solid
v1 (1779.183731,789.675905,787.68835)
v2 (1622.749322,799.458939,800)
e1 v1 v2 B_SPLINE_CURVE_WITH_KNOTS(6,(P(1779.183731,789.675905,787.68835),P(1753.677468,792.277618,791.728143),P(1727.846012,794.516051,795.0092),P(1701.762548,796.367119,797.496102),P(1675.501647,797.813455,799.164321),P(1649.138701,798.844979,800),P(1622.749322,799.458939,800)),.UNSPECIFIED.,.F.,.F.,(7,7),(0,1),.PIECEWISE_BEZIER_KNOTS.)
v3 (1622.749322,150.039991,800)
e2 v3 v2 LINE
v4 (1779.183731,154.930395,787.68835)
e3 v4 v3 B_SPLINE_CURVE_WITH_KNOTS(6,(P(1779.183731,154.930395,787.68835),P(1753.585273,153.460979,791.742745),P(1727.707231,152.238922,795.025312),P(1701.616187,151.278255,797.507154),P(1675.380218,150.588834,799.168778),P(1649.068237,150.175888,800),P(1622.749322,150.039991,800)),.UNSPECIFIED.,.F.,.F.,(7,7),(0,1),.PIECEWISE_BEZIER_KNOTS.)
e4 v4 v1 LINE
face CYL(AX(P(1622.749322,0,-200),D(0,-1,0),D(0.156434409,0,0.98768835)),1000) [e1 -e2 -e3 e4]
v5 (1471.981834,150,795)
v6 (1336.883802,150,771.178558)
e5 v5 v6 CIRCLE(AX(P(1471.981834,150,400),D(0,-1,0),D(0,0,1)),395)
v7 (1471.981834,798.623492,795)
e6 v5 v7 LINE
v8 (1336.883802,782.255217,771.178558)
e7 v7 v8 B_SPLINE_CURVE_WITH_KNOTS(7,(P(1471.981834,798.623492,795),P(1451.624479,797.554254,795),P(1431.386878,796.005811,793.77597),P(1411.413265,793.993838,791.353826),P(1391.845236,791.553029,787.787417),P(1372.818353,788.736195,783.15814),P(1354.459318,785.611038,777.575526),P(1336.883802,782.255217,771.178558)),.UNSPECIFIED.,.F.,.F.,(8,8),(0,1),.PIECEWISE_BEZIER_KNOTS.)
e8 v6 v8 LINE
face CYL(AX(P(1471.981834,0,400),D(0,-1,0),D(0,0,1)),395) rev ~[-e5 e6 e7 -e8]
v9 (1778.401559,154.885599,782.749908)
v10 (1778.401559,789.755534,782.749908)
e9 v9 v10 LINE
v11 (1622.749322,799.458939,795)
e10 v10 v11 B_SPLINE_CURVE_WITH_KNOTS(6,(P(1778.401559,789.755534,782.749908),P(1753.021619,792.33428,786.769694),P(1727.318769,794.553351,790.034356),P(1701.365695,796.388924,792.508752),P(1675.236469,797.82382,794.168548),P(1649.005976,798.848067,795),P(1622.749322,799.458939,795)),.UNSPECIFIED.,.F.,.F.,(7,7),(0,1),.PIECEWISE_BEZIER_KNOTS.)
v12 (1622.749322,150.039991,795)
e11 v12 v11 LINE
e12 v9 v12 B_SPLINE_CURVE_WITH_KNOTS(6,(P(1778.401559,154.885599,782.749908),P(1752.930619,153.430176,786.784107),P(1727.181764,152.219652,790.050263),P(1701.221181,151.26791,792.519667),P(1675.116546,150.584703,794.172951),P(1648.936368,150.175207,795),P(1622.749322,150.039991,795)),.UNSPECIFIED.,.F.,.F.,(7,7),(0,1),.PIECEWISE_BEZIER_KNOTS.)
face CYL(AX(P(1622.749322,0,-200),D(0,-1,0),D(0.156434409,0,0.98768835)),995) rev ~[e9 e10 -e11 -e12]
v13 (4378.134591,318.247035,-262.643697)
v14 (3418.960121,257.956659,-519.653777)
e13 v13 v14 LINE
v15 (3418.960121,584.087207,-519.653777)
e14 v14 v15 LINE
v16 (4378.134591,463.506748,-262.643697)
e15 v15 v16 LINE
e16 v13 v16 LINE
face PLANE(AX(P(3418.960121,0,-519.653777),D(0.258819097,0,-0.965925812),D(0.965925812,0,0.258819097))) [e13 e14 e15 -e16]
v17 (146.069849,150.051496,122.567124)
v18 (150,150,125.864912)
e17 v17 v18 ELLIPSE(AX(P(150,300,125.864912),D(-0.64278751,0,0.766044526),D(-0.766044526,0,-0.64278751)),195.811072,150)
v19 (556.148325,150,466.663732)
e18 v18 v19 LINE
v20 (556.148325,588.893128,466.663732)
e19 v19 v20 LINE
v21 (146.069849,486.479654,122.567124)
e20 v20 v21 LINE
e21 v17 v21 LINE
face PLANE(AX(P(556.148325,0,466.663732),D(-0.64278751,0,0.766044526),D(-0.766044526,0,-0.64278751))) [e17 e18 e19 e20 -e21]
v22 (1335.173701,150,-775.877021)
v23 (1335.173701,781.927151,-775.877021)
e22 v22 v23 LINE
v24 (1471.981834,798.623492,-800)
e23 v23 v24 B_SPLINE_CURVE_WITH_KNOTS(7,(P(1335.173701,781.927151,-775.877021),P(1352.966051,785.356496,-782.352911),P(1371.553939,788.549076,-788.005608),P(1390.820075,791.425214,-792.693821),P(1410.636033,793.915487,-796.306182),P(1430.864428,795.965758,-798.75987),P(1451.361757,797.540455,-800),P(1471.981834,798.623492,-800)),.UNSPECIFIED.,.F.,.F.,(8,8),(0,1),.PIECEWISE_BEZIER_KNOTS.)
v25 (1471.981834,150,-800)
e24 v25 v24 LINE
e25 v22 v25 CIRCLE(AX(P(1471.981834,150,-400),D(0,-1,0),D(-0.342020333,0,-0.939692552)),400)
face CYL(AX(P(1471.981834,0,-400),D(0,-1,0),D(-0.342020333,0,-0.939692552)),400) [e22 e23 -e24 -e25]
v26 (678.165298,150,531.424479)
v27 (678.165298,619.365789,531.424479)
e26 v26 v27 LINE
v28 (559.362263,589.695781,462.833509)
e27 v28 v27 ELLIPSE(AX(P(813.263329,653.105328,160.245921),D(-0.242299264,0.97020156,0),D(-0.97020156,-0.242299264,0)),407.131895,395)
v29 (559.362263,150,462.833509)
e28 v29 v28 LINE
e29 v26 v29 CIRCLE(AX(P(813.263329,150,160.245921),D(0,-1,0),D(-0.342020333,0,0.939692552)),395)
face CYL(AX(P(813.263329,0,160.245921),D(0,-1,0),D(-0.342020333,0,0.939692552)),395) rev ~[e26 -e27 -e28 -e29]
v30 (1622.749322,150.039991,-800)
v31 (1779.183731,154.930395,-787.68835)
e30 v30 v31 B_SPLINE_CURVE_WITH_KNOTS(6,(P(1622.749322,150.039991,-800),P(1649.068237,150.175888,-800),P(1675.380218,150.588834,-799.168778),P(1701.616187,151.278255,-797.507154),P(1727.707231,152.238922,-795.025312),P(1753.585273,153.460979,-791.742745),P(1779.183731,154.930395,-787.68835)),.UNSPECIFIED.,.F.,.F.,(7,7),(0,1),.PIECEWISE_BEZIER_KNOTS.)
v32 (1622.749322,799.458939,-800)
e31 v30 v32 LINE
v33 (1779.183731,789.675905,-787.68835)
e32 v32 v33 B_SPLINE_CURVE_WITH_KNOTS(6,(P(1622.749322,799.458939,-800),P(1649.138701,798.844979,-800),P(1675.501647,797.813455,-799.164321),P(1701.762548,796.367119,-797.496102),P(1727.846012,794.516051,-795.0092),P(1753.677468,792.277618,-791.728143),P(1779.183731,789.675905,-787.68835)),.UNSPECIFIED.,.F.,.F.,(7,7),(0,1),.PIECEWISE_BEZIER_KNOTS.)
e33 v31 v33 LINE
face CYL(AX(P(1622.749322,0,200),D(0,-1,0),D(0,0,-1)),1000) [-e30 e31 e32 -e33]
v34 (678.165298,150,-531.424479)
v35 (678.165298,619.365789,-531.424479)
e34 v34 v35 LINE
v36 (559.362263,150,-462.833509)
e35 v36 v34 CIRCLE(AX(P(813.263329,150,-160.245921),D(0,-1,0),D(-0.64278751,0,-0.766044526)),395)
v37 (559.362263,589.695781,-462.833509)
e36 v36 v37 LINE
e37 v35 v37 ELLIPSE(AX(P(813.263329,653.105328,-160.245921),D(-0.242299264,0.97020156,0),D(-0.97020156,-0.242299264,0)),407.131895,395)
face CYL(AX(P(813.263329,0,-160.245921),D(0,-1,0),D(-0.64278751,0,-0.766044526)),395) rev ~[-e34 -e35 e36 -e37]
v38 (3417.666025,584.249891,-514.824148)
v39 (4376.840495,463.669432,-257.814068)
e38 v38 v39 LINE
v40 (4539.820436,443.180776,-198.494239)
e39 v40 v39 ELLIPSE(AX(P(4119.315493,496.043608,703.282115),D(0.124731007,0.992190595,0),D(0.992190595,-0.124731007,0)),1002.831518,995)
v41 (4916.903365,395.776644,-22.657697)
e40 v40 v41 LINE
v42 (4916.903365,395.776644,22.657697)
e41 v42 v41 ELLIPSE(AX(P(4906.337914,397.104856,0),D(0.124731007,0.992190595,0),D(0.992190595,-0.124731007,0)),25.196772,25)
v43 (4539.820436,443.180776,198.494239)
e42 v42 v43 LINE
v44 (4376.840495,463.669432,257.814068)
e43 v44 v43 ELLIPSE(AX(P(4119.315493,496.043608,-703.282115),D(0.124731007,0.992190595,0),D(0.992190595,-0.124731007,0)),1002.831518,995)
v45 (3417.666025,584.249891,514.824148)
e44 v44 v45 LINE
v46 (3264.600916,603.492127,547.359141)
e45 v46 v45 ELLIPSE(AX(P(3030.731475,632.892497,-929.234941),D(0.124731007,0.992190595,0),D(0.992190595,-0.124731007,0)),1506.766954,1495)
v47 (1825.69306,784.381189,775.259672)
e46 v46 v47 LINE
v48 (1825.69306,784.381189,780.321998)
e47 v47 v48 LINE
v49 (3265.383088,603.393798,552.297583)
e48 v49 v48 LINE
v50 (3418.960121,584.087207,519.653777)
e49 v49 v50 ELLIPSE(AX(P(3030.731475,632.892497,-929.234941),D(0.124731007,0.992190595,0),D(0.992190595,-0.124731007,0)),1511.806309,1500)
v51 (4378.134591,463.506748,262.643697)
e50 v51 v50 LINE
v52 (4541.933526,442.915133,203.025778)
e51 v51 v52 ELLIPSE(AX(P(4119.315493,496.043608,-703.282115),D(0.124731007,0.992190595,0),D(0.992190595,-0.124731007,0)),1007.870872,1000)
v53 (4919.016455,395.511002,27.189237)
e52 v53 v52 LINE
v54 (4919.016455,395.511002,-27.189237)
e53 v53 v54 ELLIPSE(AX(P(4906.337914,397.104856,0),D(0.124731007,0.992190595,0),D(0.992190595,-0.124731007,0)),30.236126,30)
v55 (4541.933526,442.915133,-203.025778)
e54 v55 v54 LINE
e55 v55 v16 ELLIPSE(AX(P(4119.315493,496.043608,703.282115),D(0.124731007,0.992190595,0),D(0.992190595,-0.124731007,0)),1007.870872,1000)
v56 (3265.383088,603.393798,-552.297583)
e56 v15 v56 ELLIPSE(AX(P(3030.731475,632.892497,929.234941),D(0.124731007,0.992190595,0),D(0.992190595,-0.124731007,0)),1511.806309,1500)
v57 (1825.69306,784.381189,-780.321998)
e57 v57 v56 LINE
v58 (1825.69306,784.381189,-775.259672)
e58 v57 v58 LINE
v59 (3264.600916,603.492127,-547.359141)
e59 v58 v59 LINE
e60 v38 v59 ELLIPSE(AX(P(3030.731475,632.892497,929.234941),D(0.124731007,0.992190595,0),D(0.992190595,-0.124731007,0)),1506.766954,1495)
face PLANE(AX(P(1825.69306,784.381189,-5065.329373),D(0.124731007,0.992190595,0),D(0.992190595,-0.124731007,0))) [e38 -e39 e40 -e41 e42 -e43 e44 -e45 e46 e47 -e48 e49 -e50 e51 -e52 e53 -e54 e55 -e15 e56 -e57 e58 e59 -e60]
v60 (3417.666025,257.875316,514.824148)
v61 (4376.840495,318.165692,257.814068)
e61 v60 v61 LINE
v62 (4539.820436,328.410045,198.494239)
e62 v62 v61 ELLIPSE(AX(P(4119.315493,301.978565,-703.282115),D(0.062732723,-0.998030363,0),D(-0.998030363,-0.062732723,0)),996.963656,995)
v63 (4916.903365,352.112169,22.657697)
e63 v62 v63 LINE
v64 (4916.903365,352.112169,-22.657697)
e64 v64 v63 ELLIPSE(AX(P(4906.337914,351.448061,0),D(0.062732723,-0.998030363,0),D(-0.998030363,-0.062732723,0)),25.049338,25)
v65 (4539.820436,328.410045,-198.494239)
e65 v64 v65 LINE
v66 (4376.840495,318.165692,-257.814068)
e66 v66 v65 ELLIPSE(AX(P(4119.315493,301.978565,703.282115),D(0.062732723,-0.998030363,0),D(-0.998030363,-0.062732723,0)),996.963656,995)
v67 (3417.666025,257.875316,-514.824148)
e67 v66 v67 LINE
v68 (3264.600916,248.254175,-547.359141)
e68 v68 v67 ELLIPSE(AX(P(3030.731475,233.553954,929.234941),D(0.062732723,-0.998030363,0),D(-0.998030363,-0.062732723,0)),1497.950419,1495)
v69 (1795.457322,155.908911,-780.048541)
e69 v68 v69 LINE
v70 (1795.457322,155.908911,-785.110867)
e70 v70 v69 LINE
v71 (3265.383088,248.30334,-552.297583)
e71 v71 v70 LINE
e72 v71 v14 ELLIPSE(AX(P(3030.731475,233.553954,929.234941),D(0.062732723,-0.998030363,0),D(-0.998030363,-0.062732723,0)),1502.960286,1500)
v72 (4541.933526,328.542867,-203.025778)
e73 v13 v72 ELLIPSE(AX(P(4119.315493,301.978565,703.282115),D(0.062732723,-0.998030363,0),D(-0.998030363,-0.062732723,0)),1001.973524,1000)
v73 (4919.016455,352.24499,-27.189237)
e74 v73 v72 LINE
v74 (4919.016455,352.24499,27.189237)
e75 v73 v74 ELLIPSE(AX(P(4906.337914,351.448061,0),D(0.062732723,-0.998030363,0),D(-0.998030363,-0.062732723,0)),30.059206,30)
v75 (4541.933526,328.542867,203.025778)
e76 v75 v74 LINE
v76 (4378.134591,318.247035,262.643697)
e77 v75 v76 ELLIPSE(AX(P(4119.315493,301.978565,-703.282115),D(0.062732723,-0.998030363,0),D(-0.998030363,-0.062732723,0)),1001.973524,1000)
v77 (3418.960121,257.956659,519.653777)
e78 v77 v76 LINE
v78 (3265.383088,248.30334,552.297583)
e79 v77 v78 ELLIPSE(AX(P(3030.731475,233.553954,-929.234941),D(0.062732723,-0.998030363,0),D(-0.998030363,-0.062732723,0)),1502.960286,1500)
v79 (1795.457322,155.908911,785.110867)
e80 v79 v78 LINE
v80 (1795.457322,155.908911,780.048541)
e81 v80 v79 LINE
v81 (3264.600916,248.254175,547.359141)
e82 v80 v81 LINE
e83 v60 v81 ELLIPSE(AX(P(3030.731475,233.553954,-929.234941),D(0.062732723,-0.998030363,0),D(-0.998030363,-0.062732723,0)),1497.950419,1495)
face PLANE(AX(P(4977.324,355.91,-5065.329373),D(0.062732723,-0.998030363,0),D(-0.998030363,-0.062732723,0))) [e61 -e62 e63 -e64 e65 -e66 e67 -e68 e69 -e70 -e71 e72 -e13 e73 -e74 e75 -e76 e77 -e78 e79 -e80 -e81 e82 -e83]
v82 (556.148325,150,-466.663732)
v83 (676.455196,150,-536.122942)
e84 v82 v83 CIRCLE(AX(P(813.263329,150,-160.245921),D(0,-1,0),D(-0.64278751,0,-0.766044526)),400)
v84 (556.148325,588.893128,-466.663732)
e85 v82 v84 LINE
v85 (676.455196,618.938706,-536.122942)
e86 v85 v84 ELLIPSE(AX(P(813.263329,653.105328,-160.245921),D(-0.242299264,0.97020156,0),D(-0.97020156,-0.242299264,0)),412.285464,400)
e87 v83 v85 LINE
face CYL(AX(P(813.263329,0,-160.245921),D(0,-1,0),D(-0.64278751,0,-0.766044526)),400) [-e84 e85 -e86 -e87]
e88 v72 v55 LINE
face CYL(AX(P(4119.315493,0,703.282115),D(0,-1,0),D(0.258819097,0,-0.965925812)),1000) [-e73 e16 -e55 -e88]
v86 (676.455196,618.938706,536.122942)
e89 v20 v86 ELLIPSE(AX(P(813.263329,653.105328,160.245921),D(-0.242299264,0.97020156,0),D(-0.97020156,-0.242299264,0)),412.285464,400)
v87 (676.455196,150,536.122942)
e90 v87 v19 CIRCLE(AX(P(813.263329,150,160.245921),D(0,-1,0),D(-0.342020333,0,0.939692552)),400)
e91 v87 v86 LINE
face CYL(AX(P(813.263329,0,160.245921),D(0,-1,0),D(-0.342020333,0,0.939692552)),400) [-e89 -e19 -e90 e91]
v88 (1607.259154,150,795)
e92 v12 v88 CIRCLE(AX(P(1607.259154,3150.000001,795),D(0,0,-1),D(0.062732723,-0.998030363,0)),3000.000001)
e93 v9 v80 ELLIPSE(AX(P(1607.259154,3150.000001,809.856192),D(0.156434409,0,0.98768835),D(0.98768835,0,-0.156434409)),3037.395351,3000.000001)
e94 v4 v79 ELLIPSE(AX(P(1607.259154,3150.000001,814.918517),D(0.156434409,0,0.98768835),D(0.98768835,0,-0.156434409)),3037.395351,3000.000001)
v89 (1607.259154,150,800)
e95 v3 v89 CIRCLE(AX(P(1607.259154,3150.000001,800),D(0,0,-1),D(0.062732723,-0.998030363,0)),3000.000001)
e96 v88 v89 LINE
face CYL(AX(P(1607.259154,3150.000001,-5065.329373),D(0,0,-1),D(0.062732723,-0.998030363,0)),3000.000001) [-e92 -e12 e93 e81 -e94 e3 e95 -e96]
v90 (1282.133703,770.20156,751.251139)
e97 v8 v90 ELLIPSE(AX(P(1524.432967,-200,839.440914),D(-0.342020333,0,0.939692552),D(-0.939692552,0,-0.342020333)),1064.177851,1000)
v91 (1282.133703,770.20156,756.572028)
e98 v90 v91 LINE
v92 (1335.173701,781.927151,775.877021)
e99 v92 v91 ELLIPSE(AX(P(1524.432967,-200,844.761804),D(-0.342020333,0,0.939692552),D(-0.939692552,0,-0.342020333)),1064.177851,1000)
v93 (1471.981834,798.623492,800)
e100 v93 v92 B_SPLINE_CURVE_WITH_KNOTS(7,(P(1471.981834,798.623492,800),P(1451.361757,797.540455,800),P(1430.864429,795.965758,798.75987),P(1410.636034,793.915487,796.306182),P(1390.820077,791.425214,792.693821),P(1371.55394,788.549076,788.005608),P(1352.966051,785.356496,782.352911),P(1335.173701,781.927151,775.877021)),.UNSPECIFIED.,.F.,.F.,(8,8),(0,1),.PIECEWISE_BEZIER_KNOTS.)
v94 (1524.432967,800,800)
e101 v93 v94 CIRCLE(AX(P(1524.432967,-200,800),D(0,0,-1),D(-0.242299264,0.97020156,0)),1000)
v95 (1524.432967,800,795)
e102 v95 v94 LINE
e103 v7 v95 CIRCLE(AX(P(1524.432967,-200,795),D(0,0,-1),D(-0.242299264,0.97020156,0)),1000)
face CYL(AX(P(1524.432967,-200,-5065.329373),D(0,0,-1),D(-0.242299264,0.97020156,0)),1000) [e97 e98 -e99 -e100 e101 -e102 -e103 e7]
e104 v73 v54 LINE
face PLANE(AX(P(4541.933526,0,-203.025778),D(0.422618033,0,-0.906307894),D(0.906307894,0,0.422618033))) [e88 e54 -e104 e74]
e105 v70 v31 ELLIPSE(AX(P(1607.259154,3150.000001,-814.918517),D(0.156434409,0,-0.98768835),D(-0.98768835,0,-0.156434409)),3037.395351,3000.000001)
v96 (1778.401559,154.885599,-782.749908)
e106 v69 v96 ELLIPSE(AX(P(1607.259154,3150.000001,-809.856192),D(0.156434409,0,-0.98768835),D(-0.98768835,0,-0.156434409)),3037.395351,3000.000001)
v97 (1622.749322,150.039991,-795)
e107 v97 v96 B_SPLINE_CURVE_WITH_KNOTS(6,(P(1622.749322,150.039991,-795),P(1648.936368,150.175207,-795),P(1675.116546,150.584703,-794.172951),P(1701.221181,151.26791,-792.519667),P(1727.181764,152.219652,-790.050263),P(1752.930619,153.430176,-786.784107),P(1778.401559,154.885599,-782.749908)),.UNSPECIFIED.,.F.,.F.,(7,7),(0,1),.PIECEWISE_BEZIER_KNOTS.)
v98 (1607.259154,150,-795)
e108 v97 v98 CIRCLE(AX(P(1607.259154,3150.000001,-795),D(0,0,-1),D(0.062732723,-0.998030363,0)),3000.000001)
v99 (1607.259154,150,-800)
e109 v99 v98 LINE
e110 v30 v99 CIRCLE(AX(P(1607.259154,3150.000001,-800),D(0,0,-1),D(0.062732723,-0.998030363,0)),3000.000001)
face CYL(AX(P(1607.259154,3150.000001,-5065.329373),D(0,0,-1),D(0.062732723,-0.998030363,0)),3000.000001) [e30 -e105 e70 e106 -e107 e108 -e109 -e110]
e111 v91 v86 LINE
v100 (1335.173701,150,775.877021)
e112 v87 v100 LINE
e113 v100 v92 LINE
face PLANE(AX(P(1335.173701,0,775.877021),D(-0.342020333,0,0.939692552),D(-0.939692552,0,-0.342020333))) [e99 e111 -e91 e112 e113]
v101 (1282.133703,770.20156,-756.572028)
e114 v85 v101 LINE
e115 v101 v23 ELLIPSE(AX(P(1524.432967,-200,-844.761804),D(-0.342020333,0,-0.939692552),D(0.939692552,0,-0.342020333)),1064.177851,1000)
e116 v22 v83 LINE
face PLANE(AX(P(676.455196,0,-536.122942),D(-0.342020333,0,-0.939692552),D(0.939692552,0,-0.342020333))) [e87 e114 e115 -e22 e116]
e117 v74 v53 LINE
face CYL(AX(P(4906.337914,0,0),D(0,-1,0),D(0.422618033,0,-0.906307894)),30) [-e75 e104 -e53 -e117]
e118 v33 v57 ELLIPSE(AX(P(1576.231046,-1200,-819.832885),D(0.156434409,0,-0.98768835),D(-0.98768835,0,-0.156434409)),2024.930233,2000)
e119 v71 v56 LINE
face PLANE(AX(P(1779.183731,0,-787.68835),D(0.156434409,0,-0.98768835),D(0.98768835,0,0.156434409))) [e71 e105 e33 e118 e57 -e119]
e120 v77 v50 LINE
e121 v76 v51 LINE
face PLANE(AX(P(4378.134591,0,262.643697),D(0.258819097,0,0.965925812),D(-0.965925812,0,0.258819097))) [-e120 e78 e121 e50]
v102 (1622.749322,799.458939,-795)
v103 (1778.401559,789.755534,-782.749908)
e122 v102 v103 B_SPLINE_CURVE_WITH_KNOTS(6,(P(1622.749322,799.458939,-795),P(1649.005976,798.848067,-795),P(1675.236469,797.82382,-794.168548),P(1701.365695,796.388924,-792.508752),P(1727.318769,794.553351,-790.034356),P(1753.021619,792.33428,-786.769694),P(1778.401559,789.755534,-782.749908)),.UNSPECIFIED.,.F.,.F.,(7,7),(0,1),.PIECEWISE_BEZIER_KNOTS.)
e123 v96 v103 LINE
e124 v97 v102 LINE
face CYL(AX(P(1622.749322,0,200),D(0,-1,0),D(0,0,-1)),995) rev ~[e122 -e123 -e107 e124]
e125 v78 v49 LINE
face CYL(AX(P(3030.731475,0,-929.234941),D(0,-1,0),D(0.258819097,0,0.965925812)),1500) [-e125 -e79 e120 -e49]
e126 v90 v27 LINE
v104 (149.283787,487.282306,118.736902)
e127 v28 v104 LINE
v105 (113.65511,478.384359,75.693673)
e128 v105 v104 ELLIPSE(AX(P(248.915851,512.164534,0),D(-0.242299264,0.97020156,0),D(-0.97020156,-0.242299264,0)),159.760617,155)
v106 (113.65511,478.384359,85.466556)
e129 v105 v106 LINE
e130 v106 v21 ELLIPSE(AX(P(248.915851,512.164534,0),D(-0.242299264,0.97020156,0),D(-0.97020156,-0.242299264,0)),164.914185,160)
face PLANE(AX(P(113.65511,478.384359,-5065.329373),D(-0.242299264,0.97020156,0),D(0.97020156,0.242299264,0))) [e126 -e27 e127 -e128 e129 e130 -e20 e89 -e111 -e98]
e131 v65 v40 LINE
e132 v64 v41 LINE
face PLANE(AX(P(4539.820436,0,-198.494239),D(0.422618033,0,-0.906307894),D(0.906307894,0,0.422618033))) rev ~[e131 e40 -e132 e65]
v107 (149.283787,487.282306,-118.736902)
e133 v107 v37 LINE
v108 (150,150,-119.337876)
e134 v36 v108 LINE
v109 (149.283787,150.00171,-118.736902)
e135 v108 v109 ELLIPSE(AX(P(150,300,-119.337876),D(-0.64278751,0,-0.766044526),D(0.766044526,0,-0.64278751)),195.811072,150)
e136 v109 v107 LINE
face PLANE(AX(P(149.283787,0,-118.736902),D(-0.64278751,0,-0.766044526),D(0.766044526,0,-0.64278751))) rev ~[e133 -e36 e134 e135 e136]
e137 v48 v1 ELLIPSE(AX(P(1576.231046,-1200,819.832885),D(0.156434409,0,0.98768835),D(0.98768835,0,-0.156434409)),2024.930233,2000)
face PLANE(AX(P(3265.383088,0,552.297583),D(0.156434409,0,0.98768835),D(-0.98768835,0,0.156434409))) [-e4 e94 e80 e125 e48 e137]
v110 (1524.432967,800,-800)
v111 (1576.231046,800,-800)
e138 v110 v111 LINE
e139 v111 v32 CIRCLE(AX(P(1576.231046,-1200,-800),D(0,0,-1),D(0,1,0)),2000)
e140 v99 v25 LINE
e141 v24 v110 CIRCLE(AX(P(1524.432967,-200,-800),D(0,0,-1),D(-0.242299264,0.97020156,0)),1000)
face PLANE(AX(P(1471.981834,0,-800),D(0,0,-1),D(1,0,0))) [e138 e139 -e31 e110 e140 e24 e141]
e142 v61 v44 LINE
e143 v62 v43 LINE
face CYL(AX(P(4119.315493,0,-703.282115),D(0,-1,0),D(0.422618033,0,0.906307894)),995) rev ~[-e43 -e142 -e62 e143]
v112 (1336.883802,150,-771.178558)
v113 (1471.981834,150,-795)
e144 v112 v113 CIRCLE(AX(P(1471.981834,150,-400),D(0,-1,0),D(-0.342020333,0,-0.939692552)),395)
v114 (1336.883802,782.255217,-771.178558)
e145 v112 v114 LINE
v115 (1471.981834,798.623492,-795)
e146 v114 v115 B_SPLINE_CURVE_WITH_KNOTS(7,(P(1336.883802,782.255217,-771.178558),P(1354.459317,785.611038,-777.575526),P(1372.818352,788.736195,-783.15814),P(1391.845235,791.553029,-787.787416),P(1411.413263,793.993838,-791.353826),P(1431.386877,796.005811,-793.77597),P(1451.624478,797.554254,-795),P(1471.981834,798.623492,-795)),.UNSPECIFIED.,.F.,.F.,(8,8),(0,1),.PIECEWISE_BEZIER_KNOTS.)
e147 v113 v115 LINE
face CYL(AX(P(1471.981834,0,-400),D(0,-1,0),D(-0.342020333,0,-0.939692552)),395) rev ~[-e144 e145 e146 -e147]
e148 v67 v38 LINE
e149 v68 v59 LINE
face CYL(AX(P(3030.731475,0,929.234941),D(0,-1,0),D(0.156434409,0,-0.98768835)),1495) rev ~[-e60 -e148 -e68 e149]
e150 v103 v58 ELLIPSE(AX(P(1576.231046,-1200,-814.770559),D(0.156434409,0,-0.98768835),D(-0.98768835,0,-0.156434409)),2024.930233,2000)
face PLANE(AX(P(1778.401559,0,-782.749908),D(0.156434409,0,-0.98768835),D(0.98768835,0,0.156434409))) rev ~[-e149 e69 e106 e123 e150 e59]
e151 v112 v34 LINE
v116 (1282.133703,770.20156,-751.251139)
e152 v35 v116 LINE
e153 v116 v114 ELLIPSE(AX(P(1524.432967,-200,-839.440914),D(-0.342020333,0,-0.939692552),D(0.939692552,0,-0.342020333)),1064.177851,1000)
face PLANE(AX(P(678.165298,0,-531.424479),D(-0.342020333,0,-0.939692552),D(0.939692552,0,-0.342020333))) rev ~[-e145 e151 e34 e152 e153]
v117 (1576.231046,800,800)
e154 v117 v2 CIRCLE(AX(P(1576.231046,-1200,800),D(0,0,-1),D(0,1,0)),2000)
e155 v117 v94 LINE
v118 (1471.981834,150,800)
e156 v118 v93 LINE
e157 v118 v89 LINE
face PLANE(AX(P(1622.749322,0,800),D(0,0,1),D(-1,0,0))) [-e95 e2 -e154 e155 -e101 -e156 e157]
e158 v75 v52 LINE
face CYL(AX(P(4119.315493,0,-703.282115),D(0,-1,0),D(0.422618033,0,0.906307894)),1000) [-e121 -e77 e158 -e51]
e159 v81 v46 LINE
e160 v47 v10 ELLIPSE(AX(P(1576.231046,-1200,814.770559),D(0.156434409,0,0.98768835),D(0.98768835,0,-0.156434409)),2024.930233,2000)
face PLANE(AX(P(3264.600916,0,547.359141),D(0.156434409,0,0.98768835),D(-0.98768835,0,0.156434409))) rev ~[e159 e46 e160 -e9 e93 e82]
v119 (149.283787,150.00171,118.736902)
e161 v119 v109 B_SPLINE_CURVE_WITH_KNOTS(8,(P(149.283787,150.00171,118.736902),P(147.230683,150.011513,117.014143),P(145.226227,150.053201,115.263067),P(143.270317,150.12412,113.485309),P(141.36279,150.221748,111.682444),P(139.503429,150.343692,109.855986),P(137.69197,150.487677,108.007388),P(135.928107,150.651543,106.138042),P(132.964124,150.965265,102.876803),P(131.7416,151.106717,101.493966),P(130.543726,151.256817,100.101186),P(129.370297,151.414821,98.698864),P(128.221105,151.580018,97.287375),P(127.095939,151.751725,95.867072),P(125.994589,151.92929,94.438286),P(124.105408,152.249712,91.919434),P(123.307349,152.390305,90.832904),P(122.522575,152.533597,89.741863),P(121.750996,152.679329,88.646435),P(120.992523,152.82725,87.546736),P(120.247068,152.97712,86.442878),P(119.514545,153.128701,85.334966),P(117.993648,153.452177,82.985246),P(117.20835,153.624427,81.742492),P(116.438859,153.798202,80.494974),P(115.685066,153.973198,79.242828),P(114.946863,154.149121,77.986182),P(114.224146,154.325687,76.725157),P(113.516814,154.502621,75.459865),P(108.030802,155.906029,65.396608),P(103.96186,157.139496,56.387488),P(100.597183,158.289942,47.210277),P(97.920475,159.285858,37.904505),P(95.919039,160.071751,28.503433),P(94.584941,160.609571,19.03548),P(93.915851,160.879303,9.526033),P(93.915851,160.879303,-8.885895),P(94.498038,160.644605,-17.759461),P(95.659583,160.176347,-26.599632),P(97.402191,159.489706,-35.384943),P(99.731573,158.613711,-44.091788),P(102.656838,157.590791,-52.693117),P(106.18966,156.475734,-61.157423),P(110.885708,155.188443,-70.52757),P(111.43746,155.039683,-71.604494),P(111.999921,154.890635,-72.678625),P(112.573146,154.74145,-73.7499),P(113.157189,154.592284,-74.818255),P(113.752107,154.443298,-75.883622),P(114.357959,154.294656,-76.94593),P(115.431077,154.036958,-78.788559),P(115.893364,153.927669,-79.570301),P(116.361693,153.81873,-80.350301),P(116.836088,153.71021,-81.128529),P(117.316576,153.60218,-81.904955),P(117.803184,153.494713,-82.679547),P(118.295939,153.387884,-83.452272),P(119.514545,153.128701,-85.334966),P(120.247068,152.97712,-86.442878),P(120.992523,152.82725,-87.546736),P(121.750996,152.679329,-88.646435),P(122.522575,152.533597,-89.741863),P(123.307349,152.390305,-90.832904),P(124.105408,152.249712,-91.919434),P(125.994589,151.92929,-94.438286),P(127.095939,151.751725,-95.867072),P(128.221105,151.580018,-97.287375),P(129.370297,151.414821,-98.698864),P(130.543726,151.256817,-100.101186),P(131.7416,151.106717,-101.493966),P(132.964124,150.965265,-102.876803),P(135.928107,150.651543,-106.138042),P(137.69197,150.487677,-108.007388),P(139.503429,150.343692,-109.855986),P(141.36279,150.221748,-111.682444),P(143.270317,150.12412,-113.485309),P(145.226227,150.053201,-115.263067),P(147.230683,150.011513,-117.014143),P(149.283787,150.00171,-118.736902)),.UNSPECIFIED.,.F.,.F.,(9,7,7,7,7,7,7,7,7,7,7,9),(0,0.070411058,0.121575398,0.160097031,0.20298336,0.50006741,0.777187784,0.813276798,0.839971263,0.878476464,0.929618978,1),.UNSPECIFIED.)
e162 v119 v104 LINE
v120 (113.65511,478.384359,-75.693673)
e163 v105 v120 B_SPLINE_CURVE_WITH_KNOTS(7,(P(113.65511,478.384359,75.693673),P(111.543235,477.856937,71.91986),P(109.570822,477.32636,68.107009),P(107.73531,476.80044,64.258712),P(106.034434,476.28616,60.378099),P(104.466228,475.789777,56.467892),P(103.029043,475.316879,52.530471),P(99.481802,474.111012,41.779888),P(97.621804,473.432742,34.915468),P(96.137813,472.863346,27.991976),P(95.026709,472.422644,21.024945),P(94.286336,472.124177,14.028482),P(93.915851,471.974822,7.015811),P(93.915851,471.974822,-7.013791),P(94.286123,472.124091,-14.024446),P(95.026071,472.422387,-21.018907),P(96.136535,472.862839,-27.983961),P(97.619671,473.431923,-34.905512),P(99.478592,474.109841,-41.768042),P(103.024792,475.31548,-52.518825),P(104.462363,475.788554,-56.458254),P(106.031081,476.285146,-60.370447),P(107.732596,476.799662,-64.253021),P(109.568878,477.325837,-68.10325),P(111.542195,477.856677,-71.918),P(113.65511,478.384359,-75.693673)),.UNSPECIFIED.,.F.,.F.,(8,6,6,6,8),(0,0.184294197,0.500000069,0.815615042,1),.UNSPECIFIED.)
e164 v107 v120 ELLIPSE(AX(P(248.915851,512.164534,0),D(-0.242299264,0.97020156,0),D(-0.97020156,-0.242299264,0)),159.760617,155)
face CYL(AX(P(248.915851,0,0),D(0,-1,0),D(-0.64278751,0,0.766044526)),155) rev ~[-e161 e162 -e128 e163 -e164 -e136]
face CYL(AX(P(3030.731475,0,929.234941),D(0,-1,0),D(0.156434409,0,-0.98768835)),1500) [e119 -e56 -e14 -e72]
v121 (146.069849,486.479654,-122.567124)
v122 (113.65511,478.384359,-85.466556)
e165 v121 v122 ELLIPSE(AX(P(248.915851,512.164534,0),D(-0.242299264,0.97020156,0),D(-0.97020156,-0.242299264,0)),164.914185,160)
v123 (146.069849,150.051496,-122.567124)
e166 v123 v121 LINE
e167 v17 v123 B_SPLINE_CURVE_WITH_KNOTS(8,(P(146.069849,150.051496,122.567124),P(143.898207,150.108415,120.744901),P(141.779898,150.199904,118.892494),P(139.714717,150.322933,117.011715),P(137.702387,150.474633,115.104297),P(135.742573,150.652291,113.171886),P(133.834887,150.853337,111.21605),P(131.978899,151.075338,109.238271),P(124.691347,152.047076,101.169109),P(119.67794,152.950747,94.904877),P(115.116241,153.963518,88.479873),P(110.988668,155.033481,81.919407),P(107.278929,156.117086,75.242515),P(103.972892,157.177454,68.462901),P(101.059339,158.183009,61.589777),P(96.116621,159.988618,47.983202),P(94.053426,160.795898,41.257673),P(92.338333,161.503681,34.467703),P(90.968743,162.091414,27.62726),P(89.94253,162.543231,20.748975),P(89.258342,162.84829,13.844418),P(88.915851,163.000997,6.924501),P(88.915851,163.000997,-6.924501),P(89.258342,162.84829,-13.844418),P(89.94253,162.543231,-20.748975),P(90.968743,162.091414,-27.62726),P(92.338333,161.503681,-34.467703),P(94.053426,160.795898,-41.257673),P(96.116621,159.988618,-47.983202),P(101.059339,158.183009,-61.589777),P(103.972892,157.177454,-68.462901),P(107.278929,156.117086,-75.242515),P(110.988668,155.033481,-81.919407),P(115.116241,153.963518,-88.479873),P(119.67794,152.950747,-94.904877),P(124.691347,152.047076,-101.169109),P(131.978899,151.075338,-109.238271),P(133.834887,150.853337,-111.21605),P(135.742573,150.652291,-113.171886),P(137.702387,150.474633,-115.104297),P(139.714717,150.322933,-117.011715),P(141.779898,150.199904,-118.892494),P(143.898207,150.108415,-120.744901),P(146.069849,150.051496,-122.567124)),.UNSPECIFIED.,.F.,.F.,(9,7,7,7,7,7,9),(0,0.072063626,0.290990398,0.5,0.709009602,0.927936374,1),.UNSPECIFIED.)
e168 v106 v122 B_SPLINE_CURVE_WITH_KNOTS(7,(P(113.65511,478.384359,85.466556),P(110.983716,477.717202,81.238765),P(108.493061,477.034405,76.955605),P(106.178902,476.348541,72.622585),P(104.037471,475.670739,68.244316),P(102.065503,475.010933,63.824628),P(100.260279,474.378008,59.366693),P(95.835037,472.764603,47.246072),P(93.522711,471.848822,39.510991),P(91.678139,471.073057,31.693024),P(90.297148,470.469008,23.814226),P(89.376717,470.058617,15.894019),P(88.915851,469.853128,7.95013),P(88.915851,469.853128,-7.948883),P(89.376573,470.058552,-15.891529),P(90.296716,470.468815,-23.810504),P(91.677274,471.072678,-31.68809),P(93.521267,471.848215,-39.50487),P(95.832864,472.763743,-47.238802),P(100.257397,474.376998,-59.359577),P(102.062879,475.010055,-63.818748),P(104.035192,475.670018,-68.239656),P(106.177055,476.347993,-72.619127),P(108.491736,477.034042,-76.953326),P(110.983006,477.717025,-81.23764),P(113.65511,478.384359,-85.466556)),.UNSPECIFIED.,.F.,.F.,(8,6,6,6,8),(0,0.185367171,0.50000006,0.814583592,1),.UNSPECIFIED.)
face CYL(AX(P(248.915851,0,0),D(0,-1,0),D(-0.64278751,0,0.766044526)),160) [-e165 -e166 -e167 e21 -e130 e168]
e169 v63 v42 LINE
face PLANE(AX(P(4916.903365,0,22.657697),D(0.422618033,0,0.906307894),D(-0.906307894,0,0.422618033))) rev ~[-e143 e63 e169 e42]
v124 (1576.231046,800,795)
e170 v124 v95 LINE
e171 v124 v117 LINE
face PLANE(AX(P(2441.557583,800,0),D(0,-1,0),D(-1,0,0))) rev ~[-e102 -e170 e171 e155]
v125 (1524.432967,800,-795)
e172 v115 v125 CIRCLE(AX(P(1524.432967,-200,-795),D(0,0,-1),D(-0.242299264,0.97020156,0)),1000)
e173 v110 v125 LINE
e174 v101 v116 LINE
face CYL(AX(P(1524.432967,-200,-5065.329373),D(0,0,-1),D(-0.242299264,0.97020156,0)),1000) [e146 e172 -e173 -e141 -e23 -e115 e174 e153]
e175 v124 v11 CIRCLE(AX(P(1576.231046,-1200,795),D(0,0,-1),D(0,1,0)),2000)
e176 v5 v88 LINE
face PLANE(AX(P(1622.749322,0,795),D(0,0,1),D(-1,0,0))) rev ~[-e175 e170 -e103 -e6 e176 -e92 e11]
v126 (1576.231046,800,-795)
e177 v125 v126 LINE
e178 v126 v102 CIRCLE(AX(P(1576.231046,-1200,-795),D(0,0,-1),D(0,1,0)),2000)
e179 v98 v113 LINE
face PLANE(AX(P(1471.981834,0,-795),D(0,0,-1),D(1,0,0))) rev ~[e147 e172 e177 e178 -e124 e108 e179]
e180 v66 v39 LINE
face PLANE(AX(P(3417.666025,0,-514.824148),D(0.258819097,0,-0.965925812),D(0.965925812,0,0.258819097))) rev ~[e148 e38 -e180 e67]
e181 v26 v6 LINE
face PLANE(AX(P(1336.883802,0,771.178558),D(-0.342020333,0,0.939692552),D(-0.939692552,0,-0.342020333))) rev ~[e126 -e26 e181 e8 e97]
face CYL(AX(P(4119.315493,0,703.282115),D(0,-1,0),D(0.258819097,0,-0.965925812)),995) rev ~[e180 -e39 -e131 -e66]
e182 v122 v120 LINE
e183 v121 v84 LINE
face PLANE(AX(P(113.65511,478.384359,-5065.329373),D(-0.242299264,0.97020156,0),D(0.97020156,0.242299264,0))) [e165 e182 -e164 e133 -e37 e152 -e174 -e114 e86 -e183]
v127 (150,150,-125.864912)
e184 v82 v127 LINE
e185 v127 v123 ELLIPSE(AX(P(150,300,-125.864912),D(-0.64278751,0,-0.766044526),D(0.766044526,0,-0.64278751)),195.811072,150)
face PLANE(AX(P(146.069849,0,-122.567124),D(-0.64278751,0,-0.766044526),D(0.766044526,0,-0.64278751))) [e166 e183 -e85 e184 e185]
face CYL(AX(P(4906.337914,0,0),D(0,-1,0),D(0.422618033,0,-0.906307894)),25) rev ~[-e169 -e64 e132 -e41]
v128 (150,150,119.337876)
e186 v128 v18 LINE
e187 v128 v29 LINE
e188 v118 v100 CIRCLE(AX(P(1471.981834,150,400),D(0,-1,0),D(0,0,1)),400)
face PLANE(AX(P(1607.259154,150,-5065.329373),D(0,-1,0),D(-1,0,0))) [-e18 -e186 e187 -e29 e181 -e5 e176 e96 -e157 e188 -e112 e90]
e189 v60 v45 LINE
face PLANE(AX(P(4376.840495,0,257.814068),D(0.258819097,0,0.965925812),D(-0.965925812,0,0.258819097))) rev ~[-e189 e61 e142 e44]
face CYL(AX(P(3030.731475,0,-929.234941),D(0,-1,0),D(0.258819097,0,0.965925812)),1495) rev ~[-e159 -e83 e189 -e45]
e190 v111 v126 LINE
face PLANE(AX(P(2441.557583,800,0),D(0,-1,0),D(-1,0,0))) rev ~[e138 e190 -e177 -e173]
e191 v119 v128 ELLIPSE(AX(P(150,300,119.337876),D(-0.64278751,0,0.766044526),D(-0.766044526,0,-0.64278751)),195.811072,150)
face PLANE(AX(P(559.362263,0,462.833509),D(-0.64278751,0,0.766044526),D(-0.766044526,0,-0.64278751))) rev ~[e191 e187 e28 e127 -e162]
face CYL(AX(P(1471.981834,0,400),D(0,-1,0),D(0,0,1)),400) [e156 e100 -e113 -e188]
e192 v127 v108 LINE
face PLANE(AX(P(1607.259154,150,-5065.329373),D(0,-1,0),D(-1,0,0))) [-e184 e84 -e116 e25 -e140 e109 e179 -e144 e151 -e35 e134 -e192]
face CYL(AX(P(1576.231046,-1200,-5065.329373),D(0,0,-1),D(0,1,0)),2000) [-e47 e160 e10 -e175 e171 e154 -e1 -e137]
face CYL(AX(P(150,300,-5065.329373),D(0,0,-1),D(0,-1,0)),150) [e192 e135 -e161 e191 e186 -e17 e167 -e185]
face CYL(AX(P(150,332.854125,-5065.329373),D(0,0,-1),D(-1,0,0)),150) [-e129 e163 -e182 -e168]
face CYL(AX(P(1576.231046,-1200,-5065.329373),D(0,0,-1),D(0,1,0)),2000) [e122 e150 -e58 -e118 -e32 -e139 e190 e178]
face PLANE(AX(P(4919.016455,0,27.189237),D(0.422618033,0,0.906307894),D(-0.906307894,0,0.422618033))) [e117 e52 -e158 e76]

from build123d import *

# Parameters (mm, degrees)
TOPVIEW_EXTRUDE_DEPTH      = 800
SHELL1_T                   = -5
SIDEPROFILE_CUT_DEPTH      = 5065.329373382
SIDEPROFILE_CUT_DEPTH_BACK = 5065.329373382
SKETCH2_OUTSIDE_W          = 5882.814
SKETCH2_OUTSIDE_H          = 1835.392


with BuildPart() as part:
    # Sketch1 → TopView_Extrude (new body)
    with BuildSketch(Plane(origin=(0, 0, 0), x_dir=(1, 0, 0), z_dir=(0, 1, 0))):
        with BuildLine():
            Line((146.069849076, 122.567124227), (556.148324977, 466.663731547))
            ThreePointArc((556.148324977, 466.663731547), (613.263316637, 506.656075273), (676.455195963, 536.122941687))
            Line((676.455195963, 536.122941687), (1335.173700718, 775.877020708))
            ThreePointArc((1335.173700718, 775.877020708), (1402.522523085, 793.923094197), (1471.981833896, 800))
            Line((1471.981833896, 800), (1622.74932188, 800))
            ThreePointArc((1622.74932188, 800), (1701.208389168, 796.917335971), (1779.183730567, 787.688349521))
            Line((1779.183730567, 787.688349521), (3265.383087903, 552.297583021))
            ThreePointArc((3265.383087903, 552.297583021), (3342.599008928, 537.986460302), (3418.960120906, 519.653777172))
            Line((3418.960120906, 519.653777172), (4378.134590748, 262.643696963))
            ThreePointArc((4378.134590748, 262.643696963), (4461.335543574, 236.410539363), (4541.933526436, 203.025778355))
            Line((4541.933526436, 203.025778355), (4919.016455083, 27.18923681))
            ThreePointArc((4919.016455083, 27.18923681), (4936.337914092, 0), (4919.016455083, -27.18923681))
            Line((4919.016455083, -27.18923681), (4541.933526436, -203.025778355))
            ThreePointArc((4541.933526436, -203.025778355), (4461.335543574, -236.410539363), (4378.134590748, -262.643696963))
            Line((4378.134590748, -262.643696963), (3418.960120906, -519.653777172))
            ThreePointArc((3418.960120906, -519.653777172), (3342.599008928, -537.986460302), (3265.383087903, -552.297583021))
            Line((3265.383087903, -552.297583021), (1779.183730567, -787.688349521))
            ThreePointArc((1779.183730567, -787.688349521), (1701.208389168, -796.917335971), (1622.74932188, -800))
            Line((1622.74932188, -800), (1471.981833896, -800))
            ThreePointArc((1471.981833896, -800), (1402.522523085, -793.923094197), (1335.173700718, -775.877020708))
            Line((1335.173700718, -775.877020708), (676.455195963, -536.122941687))
            ThreePointArc((676.455195963, -536.122941687), (613.263316637, -506.656075273), (556.148324977, -466.663731547))
            Line((556.148324977, -466.663731547), (146.069849076, -122.567124227))
            ThreePointArc((146.069849076, -122.567124227), (88.915850742, 0), (146.069849076, 122.567124227))
        make_face()
    extrude(amount=TOPVIEW_EXTRUDE_DEPTH)

    # Shell1
    shell1_openings = [part.faces().sort_by_distance(p)[0] for p in [
        (2250.068887565, 800, 0),
        (2250.068887565, 0, 0),
    ]]
    offset(amount=SHELL1_T, openings=shell1_openings, kind=Kind.INTERSECTION)

    # Sketch2 outside → SideProfile_Cut (cut, two sides: drawn at the far end of the back side and taken through both)
    with BuildSketch(Plane.XY.offset(-SIDEPROFILE_CUT_DEPTH_BACK)):
        with Locations((2512.627, 400)):
            Rectangle(SKETCH2_OUTSIDE_W, SKETCH2_OUTSIDE_H)
        with BuildLine():
            Line((0, 300), (0, 332.854125267))
            ThreePointArc((0, 332.854125267), (31.780430043, 425.180358155), (113.65511039, 478.384359237))
            Line((113.65511039, 478.384359237), (1282.133703367, 770.201559797))
            ThreePointArc((1282.133703367, 770.201559797), (1402.370605908, 792.522432945), (1524.432967436, 800))
            Line((1524.432967436, 800), (1576.231046196, 800))
            ThreePointArc((1576.231046196, 800), (1701.206287536, 796.091478127), (1825.693060411, 784.381189052))
            Line((1825.693060411, 784.381189052), (4977.324, 388.181))
            Line((4977.324, 388.181), (4977.324, 355.91))
            Line((4977.324, 355.91), (1795.457321969, 155.908910924))
            ThreePointArc((1795.457321969, 155.908910924), (1701.40460764, 151.477591611), (1607.259154289, 150))
            Line((1607.259154289, 150), (150, 150))
            ThreePointArc((150, 150), (43.933982822, 193.933982822), (0, 300))
        make_face(mode=Mode.SUBTRACT)
    extrude(amount=SIDEPROFILE_CUT_DEPTH + SIDEPROFILE_CUT_DEPTH_BACK, mode=Mode.SUBTRACT)


solid = part.part
